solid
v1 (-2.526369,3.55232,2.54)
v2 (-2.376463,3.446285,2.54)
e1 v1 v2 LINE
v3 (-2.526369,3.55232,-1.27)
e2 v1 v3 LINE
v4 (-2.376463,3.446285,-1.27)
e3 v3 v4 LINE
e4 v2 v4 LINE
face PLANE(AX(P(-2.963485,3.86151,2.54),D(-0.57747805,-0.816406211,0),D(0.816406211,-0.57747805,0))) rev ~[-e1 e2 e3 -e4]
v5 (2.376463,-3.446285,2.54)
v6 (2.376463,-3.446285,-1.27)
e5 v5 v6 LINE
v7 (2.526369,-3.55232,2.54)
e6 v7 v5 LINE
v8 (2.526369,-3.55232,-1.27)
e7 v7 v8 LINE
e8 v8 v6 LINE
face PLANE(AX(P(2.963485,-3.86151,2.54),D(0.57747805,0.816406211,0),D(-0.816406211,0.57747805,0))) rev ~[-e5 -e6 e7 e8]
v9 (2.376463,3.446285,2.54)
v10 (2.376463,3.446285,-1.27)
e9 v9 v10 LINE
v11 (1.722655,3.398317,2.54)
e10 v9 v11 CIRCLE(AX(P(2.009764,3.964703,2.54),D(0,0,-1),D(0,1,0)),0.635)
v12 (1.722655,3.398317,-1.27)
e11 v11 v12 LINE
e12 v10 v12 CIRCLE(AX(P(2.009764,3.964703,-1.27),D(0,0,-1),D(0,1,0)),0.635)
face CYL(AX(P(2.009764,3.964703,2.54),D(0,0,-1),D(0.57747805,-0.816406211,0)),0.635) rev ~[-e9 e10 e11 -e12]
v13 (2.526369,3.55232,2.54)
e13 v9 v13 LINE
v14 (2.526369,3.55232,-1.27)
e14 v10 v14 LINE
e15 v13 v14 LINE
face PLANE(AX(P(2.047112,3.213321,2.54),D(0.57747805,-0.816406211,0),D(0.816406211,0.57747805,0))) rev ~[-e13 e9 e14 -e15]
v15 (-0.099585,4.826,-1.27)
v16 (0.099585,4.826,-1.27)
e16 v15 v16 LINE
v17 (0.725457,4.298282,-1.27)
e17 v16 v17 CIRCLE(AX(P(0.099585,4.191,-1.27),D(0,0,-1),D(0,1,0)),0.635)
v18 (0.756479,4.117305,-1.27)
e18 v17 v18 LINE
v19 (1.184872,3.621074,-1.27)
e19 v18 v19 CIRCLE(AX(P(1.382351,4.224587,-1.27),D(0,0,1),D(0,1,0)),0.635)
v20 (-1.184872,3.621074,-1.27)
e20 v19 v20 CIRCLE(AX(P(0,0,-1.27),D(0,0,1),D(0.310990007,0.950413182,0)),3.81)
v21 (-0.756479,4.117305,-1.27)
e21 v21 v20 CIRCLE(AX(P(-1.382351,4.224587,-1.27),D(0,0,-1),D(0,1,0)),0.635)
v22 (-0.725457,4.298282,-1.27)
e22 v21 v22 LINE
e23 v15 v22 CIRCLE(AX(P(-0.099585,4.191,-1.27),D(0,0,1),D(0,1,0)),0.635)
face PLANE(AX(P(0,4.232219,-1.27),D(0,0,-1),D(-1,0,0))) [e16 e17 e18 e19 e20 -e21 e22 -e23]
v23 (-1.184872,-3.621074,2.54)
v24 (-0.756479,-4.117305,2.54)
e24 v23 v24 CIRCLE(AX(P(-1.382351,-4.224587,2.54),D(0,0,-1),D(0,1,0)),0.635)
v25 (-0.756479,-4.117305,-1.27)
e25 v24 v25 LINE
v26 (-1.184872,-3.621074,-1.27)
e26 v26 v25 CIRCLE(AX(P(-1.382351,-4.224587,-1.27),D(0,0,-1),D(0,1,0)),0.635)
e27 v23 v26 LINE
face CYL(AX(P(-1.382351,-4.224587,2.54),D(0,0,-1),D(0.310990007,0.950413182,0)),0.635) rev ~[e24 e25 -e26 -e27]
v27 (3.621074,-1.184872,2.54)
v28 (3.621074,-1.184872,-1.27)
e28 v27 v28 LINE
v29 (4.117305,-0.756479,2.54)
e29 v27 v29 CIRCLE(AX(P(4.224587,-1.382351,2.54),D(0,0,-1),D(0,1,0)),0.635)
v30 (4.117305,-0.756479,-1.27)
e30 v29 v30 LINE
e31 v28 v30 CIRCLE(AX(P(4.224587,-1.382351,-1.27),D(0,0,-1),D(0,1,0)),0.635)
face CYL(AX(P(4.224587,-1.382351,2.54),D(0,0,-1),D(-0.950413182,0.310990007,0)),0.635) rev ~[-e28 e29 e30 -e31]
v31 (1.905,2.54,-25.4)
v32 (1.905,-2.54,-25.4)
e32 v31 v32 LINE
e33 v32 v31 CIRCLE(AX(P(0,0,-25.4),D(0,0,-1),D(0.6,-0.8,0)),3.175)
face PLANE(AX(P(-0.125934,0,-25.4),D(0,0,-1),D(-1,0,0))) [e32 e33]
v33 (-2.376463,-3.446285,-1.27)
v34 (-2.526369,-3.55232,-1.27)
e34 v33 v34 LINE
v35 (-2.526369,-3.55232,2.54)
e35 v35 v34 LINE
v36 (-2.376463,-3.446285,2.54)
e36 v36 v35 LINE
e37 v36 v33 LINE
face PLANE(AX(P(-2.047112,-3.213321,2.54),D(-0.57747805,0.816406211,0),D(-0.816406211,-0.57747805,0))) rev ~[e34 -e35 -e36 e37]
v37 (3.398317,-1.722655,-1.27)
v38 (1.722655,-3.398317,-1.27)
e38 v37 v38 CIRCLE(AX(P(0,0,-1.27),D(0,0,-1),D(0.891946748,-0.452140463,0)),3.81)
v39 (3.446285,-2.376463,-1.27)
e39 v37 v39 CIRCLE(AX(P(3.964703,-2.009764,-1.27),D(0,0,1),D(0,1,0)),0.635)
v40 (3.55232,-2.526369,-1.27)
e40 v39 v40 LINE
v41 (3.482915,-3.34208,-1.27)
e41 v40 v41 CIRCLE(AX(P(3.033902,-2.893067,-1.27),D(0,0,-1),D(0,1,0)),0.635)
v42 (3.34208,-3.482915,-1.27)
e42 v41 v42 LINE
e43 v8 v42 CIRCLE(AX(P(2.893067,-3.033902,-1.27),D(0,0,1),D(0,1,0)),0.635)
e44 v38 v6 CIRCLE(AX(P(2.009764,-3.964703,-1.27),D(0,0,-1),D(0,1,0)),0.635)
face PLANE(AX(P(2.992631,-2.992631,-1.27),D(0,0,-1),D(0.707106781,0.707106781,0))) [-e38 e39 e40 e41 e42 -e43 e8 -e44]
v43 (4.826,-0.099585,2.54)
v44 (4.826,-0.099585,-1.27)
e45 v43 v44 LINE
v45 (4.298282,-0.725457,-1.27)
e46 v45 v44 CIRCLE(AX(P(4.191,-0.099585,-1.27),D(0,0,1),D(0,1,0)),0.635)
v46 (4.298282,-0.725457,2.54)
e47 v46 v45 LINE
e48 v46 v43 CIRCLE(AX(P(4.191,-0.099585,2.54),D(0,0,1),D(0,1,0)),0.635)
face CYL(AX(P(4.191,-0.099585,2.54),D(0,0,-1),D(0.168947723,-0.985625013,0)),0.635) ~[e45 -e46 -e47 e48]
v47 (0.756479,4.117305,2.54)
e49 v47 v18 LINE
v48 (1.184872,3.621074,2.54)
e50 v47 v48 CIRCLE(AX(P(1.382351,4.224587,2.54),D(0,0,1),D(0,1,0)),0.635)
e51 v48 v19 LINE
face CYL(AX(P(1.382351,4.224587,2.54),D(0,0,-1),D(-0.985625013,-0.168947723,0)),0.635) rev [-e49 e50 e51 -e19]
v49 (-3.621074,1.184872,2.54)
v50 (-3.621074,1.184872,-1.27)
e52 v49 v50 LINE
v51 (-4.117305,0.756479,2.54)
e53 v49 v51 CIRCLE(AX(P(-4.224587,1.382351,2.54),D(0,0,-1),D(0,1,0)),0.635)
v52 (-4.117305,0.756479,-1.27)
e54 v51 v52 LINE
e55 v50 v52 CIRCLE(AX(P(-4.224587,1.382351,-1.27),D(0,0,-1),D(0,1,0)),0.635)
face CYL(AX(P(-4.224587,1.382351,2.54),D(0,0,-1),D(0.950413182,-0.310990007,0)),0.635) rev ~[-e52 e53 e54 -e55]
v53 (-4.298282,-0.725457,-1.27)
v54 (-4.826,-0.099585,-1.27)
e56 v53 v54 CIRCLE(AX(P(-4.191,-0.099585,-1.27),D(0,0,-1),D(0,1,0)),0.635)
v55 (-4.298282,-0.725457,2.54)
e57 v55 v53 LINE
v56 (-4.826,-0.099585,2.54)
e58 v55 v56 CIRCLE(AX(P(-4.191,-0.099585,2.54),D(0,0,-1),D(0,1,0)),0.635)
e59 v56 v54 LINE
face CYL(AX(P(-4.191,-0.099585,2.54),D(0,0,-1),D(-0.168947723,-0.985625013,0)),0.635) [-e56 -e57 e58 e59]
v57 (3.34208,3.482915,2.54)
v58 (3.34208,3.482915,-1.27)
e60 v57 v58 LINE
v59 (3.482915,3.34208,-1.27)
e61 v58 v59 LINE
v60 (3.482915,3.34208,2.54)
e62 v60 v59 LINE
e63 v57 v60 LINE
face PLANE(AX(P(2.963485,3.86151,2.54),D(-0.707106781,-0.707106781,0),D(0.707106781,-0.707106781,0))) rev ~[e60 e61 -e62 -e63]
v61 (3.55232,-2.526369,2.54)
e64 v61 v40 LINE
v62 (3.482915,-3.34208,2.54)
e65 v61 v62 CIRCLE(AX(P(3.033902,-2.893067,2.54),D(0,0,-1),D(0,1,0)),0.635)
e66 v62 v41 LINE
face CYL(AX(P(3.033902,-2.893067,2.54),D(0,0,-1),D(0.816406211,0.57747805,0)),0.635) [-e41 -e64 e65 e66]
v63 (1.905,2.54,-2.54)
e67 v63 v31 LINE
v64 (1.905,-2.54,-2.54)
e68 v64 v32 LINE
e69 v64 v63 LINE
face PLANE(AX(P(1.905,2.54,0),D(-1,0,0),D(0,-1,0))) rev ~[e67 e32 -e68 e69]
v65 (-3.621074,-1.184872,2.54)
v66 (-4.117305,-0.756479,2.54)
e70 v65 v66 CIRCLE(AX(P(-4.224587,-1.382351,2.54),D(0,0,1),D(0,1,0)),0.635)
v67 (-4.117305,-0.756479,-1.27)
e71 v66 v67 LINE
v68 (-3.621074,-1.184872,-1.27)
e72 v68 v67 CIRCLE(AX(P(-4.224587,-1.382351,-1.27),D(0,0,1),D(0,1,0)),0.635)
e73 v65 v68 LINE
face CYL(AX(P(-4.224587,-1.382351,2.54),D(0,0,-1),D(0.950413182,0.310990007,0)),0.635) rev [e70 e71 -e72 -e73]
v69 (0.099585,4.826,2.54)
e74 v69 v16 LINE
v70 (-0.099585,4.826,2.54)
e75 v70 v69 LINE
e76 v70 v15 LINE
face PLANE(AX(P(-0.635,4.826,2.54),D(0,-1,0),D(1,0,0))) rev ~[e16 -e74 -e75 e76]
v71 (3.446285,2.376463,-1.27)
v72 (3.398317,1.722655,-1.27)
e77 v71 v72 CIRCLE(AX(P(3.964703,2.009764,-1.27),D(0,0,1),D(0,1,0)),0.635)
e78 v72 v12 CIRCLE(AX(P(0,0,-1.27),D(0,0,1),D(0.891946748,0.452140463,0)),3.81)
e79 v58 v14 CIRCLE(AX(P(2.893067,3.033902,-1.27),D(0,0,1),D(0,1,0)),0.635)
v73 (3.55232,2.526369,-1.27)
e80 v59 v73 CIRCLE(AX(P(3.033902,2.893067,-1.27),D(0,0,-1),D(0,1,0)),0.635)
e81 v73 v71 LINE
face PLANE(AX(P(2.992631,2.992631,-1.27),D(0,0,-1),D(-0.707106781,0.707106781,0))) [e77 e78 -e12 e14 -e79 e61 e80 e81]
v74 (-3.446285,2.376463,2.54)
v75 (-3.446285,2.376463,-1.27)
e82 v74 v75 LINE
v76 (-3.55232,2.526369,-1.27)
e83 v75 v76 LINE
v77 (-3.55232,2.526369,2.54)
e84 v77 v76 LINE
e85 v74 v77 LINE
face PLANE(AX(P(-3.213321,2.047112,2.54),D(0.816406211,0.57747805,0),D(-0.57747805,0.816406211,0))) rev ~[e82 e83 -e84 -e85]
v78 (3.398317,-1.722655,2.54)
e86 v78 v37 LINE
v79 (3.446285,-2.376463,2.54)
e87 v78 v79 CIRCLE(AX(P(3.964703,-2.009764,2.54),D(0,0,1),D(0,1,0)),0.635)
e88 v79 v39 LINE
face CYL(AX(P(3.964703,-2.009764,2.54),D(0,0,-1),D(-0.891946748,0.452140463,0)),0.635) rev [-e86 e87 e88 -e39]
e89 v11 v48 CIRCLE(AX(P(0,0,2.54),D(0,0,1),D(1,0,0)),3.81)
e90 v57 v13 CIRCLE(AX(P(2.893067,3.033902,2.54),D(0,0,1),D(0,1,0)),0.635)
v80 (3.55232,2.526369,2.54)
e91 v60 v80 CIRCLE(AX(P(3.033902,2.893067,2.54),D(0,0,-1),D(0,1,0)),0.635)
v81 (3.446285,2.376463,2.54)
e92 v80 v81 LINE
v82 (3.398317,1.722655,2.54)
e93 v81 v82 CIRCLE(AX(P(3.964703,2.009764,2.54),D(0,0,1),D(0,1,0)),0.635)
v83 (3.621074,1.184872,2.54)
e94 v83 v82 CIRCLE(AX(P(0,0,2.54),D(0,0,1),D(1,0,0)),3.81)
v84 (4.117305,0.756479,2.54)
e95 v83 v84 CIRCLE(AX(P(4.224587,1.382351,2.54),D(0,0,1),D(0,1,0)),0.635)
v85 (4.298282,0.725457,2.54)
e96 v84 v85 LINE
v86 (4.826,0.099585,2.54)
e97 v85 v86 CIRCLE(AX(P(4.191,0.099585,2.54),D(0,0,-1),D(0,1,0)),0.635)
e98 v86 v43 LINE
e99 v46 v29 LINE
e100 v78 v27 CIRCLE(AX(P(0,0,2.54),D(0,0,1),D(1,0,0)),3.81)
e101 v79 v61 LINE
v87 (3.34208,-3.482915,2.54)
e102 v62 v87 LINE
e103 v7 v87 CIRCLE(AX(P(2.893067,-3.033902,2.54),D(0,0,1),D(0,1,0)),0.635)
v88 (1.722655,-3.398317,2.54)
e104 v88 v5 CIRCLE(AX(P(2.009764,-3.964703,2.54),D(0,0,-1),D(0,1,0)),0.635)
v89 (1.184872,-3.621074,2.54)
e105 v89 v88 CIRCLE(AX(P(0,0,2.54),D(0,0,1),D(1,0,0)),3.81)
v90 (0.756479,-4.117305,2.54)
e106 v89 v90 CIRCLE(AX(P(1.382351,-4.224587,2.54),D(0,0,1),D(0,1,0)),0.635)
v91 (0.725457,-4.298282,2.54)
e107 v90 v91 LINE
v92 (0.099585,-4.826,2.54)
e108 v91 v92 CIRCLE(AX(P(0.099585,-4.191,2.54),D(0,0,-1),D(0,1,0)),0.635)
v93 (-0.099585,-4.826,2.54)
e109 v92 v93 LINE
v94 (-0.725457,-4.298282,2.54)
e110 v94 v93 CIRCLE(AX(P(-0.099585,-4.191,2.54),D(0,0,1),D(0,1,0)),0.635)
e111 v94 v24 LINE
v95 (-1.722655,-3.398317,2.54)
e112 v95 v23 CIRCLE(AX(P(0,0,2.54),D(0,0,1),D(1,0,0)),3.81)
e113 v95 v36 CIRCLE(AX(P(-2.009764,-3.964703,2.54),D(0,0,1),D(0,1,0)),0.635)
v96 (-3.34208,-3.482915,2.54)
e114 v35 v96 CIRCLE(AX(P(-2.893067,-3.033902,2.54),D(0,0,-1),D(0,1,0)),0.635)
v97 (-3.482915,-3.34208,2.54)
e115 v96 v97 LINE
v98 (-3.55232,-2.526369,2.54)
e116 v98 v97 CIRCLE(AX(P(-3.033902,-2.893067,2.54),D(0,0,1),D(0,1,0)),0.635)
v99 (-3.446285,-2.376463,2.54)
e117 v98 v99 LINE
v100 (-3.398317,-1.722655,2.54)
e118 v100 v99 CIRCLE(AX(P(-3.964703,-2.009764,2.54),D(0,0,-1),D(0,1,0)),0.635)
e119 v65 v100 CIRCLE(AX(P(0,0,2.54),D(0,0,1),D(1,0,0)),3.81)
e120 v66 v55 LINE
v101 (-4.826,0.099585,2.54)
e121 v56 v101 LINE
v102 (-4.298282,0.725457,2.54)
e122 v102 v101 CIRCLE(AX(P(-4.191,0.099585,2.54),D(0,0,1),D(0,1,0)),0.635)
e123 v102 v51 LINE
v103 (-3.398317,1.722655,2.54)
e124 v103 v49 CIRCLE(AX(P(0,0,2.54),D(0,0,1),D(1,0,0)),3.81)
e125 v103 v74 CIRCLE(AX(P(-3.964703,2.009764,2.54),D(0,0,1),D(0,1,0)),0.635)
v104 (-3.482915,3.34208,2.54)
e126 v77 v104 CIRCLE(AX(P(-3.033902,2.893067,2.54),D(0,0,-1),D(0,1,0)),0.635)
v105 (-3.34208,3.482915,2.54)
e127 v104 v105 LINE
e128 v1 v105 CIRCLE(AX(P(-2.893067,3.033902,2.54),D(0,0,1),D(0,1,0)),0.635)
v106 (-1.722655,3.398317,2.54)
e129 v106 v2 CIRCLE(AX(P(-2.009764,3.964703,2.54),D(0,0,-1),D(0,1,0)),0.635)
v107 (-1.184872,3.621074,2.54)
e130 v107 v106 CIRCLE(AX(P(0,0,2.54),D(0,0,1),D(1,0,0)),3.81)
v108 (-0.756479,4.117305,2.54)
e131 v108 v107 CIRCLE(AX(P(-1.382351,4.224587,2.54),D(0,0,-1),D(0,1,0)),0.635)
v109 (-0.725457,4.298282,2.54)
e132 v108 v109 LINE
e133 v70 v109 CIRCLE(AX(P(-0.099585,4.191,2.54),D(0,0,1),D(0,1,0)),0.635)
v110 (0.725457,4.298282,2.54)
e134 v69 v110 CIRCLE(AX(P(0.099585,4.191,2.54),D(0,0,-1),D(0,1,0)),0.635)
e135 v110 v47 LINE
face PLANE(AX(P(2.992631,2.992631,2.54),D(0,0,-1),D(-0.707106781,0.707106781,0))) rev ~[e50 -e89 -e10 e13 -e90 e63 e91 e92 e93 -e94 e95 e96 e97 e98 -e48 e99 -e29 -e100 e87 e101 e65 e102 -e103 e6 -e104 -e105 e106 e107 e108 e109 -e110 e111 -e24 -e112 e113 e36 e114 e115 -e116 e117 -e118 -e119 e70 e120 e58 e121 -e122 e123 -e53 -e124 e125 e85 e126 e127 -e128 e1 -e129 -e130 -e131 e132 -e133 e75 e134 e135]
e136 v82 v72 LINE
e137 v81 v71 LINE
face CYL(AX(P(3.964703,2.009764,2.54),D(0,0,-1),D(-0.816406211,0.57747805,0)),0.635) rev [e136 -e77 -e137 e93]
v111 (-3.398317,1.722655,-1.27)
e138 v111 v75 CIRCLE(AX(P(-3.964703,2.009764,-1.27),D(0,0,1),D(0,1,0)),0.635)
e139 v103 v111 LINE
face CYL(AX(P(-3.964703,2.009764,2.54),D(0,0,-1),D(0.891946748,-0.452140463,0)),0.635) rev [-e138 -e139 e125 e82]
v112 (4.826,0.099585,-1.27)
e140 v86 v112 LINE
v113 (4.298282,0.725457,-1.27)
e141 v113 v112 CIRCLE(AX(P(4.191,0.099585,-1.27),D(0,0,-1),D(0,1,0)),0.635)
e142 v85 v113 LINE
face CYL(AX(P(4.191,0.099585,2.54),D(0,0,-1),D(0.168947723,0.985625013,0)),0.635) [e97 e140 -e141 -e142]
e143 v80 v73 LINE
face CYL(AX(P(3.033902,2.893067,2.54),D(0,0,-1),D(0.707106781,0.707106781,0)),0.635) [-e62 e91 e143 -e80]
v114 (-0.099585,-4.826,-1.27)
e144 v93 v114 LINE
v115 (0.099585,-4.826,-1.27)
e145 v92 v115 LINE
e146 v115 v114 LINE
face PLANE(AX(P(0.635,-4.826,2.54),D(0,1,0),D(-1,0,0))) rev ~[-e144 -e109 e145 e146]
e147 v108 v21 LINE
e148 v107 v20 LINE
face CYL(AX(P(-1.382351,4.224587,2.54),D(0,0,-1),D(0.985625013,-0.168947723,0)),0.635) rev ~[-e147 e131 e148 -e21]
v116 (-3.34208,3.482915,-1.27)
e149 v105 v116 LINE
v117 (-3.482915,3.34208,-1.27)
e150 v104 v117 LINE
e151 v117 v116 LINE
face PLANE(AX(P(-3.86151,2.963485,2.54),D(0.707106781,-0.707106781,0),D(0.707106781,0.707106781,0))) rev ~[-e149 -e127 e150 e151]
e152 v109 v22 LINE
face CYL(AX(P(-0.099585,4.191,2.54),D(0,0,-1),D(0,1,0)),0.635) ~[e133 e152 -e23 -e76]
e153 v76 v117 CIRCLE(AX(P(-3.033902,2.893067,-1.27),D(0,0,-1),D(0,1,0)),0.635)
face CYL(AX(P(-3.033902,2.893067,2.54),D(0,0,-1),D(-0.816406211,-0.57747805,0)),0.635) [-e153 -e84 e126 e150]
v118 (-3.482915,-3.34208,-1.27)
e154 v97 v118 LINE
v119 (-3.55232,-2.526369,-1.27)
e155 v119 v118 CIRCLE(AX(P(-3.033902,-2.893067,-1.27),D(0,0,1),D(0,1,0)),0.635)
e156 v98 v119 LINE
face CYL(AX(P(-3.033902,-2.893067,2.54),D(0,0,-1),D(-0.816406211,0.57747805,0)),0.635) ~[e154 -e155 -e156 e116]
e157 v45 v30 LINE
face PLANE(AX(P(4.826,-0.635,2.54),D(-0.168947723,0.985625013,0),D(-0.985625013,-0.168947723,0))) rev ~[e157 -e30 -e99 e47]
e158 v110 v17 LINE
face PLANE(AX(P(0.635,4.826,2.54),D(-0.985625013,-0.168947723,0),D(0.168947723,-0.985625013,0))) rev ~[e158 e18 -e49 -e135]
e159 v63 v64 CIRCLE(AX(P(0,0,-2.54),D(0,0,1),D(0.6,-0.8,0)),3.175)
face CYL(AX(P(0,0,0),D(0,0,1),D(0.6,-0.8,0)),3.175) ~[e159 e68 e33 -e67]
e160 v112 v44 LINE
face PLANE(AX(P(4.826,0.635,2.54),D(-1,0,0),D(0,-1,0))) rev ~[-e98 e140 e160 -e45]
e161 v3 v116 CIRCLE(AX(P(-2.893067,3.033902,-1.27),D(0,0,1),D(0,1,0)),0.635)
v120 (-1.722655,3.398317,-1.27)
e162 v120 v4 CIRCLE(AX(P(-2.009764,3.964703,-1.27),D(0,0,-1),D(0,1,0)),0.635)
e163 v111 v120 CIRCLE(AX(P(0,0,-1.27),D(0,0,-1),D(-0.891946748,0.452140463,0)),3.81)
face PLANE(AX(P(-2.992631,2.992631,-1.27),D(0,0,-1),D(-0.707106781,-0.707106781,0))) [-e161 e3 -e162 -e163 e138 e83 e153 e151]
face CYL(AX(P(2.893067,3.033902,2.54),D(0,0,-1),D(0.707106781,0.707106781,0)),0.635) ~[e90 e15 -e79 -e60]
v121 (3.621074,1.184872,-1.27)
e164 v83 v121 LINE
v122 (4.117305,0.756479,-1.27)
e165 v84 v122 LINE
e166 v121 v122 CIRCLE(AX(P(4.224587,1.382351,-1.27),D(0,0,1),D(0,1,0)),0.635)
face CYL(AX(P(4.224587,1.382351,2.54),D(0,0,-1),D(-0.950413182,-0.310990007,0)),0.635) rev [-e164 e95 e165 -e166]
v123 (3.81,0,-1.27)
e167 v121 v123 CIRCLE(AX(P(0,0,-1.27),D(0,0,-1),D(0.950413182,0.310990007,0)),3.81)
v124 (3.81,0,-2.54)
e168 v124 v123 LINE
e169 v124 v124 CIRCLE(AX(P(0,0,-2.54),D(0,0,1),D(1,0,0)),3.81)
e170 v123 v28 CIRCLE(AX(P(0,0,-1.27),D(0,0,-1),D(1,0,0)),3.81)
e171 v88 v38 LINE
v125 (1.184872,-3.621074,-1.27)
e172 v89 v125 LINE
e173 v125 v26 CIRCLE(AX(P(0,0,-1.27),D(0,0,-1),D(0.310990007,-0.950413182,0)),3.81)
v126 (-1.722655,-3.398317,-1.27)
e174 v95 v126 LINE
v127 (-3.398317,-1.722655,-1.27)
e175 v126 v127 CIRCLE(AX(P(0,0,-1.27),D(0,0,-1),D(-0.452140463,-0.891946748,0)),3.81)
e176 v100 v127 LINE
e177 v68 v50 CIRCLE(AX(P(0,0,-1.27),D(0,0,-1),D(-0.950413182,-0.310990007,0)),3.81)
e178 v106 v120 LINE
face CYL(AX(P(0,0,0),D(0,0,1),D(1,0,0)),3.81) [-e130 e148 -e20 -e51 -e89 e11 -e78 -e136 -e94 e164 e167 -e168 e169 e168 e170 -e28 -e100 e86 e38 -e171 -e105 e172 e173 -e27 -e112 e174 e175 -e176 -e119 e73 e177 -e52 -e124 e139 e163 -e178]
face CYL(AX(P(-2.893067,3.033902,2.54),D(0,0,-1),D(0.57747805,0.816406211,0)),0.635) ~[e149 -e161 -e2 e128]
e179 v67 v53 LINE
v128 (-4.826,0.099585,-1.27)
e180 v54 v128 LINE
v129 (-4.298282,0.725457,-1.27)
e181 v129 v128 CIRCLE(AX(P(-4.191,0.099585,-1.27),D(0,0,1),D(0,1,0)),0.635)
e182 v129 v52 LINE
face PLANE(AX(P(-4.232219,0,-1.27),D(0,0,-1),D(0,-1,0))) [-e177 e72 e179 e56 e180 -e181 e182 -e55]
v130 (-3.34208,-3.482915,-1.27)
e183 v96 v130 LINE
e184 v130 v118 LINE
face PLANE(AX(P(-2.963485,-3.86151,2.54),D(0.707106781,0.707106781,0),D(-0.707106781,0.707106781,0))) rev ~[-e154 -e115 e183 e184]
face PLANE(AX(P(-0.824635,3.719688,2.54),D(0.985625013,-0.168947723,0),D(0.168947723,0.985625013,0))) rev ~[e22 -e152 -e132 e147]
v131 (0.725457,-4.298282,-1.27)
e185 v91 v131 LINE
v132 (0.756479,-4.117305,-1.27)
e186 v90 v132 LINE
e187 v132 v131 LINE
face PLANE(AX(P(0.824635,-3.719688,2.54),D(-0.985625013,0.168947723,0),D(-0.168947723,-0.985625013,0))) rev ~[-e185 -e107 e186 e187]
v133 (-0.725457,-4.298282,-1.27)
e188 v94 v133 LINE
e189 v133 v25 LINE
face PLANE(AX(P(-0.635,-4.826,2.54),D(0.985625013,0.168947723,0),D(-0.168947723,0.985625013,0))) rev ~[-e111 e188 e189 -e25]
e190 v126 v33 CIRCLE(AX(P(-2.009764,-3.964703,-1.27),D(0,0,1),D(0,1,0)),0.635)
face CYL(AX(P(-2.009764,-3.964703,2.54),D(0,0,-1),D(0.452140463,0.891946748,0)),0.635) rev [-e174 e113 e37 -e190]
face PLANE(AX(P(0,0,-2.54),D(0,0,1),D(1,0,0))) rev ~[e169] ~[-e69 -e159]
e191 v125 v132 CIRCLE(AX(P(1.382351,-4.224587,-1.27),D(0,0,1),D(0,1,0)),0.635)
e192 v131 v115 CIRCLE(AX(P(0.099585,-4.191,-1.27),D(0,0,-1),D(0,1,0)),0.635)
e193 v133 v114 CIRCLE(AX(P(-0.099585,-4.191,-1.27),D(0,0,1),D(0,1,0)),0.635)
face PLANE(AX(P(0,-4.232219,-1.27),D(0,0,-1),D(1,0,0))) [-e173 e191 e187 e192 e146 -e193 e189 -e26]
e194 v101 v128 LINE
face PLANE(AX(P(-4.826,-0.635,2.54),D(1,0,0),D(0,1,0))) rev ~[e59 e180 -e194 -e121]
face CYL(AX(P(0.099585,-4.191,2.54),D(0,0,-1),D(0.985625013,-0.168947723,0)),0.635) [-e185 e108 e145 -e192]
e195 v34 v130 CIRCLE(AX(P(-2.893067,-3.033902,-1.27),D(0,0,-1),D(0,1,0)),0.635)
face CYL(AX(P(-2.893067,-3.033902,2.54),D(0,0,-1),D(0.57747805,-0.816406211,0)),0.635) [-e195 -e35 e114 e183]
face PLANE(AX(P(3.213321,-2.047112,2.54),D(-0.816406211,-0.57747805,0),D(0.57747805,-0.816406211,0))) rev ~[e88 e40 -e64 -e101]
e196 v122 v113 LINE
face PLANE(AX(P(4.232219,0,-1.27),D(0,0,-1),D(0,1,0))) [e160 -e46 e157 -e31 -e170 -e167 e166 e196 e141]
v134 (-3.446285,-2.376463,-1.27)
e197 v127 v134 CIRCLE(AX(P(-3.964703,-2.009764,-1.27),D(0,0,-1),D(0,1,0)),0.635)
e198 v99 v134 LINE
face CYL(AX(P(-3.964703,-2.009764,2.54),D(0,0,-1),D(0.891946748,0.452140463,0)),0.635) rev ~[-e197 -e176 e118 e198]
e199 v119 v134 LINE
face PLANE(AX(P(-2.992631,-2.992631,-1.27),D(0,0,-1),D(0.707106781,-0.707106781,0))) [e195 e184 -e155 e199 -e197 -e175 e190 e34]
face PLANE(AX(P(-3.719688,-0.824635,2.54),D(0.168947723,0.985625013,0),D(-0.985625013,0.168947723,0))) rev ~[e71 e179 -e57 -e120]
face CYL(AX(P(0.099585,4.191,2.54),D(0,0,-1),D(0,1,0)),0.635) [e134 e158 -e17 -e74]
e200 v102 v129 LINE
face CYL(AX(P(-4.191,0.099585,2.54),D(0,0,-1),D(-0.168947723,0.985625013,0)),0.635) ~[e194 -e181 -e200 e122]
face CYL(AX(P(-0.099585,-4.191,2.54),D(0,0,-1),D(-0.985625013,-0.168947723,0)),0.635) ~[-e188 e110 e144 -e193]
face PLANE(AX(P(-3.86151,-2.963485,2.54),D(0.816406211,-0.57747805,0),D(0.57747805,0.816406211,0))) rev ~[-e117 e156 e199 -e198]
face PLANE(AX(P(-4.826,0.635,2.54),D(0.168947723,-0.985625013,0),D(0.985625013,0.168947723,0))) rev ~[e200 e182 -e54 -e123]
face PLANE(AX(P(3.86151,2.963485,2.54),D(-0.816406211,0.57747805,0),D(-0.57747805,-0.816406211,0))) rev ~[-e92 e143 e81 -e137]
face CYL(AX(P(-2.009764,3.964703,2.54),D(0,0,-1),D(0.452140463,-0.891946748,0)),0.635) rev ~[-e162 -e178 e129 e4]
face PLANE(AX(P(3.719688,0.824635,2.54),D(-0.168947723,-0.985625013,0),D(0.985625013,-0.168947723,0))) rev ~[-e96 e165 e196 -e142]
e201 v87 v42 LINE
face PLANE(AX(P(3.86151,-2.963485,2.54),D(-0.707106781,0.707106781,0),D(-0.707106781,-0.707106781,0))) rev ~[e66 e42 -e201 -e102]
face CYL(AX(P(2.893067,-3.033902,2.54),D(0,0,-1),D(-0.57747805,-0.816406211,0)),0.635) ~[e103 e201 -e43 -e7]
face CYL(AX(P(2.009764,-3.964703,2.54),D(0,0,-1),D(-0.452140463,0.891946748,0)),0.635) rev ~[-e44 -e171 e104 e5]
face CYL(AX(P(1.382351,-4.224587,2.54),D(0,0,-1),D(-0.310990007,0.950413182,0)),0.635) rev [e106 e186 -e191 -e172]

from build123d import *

# Parameters (mm, degrees)
BOSS_EXTRUDE1_DEPTH      = 25.4
SKETCH2_R                = 3.81
BOSS_EXTRUDE2_DEPTH      = 2.54
BOSS_EXTRUDE3_DEPTH      = 3.81
FILLET1_R                = 0.635
CIRPATTERN1_COUNT        = 8
FILLET1_OF_CIRPATTERN1_R = 0.635


with BuildPart() as part:
    # Sketch1 → Boss-Extrude1 (new body)
    with BuildSketch(Plane.XY):
        with BuildLine():
            Line((1.905, 2.54), (1.905, -2.54))
            ThreePointArc((1.905, -2.54), (-3.175, 0), (1.905, 2.54))
        make_face()
    extrude(amount=-BOSS_EXTRUDE1_DEPTH)

    # Sketch2 → Boss-Extrude2 (add, symmetric)
    with BuildSketch(Plane.XY):
        Circle(SKETCH2_R)
    extrude(amount=BOSS_EXTRUDE2_DEPTH, both=True)

    # Sketch4 → Boss-Extrude3 (add)
    with BuildSketch(Plane.XY.offset(2.54)):
        Polygon((-0.635, 4.826), (0.635, 4.826), (0.824634929, 3.719687787), (-0.824634929, 3.719687787), align=None)
    boss_extrude3 = extrude(amount=-BOSS_EXTRUDE3_DEPTH)

    # Fillet1
    fillet1_edges = [part.edges().sort_by_distance(p)[0] for p in [
        (0.635, 4.826, 0.635),
        (0.824634929, 3.719687787, 0.635),
        (-0.824634929, 3.719687787, 0.635),
        (-0.635, 4.826, 0.635),
    ]]
    fillet(fillet1_edges, radius=FILLET1_R)

    # CirPattern1: Boss-Extrude3 ×8 about axis
    cirpattern1_axis = Axis((0, 0, 0), (0, 0, 1))
    for i in range(1, CIRPATTERN1_COUNT):
        add(boss_extrude3.rotate(cirpattern1_axis, i * 360 / CIRPATTERN1_COUNT))

    # Fillet1 of CirPattern1
    fillet1_of_cirpattern1_edges = [part.edges().sort_by_distance(p)[0] for p in [
        (-2.96348452, 3.861510132, 0.635),
        (-2.047111508, 3.213321409, 0.635),
        (-3.213321409, 2.047111508, 0.635),
        (-3.861510132, 2.96348452, 0.635),
        (-4.826, 0.635, 0.635),
        (-3.719687787, 0.824634929, 0.635),
        (-3.719687787, -0.824634929, 0.635),
        (-4.826, -0.635, 0.635),
        (-3.861510132, -2.96348452, 0.635),
        (-3.213321409, -2.047111508, 0.635),
        (-2.047111508, -3.213321409, 0.635),
        (-2.96348452, -3.861510132, 0.635),
        (-0.635, -4.826, 0.635),
        (-0.824634929, -3.719687787, 0.635),
        (0.824634929, -3.719687787, 0.635),
        (0.635, -4.826, 0.635),
        (2.96348452, -3.861510132, 0.635),
        (2.047111508, -3.213321409, 0.635),
        (3.213321409, -2.047111508, 0.635),
        (3.861510132, -2.96348452, 0.635),
        (4.826, -0.635, 0.635),
        (3.719687787, -0.824634929, 0.635),
        (3.719687787, 0.824634929, 0.635),
        (4.826, 0.635, 0.635),
        (3.861510132, 2.96348452, 0.635),
        (3.213321409, 2.047111508, 0.635),
        (2.047111508, 3.213321409, 0.635),
        (2.96348452, 3.861510132, 0.635),
    ]]
    fillet(fillet1_of_cirpattern1_edges, radius=FILLET1_OF_CIRPATTERN1_R)


solid = part.part
